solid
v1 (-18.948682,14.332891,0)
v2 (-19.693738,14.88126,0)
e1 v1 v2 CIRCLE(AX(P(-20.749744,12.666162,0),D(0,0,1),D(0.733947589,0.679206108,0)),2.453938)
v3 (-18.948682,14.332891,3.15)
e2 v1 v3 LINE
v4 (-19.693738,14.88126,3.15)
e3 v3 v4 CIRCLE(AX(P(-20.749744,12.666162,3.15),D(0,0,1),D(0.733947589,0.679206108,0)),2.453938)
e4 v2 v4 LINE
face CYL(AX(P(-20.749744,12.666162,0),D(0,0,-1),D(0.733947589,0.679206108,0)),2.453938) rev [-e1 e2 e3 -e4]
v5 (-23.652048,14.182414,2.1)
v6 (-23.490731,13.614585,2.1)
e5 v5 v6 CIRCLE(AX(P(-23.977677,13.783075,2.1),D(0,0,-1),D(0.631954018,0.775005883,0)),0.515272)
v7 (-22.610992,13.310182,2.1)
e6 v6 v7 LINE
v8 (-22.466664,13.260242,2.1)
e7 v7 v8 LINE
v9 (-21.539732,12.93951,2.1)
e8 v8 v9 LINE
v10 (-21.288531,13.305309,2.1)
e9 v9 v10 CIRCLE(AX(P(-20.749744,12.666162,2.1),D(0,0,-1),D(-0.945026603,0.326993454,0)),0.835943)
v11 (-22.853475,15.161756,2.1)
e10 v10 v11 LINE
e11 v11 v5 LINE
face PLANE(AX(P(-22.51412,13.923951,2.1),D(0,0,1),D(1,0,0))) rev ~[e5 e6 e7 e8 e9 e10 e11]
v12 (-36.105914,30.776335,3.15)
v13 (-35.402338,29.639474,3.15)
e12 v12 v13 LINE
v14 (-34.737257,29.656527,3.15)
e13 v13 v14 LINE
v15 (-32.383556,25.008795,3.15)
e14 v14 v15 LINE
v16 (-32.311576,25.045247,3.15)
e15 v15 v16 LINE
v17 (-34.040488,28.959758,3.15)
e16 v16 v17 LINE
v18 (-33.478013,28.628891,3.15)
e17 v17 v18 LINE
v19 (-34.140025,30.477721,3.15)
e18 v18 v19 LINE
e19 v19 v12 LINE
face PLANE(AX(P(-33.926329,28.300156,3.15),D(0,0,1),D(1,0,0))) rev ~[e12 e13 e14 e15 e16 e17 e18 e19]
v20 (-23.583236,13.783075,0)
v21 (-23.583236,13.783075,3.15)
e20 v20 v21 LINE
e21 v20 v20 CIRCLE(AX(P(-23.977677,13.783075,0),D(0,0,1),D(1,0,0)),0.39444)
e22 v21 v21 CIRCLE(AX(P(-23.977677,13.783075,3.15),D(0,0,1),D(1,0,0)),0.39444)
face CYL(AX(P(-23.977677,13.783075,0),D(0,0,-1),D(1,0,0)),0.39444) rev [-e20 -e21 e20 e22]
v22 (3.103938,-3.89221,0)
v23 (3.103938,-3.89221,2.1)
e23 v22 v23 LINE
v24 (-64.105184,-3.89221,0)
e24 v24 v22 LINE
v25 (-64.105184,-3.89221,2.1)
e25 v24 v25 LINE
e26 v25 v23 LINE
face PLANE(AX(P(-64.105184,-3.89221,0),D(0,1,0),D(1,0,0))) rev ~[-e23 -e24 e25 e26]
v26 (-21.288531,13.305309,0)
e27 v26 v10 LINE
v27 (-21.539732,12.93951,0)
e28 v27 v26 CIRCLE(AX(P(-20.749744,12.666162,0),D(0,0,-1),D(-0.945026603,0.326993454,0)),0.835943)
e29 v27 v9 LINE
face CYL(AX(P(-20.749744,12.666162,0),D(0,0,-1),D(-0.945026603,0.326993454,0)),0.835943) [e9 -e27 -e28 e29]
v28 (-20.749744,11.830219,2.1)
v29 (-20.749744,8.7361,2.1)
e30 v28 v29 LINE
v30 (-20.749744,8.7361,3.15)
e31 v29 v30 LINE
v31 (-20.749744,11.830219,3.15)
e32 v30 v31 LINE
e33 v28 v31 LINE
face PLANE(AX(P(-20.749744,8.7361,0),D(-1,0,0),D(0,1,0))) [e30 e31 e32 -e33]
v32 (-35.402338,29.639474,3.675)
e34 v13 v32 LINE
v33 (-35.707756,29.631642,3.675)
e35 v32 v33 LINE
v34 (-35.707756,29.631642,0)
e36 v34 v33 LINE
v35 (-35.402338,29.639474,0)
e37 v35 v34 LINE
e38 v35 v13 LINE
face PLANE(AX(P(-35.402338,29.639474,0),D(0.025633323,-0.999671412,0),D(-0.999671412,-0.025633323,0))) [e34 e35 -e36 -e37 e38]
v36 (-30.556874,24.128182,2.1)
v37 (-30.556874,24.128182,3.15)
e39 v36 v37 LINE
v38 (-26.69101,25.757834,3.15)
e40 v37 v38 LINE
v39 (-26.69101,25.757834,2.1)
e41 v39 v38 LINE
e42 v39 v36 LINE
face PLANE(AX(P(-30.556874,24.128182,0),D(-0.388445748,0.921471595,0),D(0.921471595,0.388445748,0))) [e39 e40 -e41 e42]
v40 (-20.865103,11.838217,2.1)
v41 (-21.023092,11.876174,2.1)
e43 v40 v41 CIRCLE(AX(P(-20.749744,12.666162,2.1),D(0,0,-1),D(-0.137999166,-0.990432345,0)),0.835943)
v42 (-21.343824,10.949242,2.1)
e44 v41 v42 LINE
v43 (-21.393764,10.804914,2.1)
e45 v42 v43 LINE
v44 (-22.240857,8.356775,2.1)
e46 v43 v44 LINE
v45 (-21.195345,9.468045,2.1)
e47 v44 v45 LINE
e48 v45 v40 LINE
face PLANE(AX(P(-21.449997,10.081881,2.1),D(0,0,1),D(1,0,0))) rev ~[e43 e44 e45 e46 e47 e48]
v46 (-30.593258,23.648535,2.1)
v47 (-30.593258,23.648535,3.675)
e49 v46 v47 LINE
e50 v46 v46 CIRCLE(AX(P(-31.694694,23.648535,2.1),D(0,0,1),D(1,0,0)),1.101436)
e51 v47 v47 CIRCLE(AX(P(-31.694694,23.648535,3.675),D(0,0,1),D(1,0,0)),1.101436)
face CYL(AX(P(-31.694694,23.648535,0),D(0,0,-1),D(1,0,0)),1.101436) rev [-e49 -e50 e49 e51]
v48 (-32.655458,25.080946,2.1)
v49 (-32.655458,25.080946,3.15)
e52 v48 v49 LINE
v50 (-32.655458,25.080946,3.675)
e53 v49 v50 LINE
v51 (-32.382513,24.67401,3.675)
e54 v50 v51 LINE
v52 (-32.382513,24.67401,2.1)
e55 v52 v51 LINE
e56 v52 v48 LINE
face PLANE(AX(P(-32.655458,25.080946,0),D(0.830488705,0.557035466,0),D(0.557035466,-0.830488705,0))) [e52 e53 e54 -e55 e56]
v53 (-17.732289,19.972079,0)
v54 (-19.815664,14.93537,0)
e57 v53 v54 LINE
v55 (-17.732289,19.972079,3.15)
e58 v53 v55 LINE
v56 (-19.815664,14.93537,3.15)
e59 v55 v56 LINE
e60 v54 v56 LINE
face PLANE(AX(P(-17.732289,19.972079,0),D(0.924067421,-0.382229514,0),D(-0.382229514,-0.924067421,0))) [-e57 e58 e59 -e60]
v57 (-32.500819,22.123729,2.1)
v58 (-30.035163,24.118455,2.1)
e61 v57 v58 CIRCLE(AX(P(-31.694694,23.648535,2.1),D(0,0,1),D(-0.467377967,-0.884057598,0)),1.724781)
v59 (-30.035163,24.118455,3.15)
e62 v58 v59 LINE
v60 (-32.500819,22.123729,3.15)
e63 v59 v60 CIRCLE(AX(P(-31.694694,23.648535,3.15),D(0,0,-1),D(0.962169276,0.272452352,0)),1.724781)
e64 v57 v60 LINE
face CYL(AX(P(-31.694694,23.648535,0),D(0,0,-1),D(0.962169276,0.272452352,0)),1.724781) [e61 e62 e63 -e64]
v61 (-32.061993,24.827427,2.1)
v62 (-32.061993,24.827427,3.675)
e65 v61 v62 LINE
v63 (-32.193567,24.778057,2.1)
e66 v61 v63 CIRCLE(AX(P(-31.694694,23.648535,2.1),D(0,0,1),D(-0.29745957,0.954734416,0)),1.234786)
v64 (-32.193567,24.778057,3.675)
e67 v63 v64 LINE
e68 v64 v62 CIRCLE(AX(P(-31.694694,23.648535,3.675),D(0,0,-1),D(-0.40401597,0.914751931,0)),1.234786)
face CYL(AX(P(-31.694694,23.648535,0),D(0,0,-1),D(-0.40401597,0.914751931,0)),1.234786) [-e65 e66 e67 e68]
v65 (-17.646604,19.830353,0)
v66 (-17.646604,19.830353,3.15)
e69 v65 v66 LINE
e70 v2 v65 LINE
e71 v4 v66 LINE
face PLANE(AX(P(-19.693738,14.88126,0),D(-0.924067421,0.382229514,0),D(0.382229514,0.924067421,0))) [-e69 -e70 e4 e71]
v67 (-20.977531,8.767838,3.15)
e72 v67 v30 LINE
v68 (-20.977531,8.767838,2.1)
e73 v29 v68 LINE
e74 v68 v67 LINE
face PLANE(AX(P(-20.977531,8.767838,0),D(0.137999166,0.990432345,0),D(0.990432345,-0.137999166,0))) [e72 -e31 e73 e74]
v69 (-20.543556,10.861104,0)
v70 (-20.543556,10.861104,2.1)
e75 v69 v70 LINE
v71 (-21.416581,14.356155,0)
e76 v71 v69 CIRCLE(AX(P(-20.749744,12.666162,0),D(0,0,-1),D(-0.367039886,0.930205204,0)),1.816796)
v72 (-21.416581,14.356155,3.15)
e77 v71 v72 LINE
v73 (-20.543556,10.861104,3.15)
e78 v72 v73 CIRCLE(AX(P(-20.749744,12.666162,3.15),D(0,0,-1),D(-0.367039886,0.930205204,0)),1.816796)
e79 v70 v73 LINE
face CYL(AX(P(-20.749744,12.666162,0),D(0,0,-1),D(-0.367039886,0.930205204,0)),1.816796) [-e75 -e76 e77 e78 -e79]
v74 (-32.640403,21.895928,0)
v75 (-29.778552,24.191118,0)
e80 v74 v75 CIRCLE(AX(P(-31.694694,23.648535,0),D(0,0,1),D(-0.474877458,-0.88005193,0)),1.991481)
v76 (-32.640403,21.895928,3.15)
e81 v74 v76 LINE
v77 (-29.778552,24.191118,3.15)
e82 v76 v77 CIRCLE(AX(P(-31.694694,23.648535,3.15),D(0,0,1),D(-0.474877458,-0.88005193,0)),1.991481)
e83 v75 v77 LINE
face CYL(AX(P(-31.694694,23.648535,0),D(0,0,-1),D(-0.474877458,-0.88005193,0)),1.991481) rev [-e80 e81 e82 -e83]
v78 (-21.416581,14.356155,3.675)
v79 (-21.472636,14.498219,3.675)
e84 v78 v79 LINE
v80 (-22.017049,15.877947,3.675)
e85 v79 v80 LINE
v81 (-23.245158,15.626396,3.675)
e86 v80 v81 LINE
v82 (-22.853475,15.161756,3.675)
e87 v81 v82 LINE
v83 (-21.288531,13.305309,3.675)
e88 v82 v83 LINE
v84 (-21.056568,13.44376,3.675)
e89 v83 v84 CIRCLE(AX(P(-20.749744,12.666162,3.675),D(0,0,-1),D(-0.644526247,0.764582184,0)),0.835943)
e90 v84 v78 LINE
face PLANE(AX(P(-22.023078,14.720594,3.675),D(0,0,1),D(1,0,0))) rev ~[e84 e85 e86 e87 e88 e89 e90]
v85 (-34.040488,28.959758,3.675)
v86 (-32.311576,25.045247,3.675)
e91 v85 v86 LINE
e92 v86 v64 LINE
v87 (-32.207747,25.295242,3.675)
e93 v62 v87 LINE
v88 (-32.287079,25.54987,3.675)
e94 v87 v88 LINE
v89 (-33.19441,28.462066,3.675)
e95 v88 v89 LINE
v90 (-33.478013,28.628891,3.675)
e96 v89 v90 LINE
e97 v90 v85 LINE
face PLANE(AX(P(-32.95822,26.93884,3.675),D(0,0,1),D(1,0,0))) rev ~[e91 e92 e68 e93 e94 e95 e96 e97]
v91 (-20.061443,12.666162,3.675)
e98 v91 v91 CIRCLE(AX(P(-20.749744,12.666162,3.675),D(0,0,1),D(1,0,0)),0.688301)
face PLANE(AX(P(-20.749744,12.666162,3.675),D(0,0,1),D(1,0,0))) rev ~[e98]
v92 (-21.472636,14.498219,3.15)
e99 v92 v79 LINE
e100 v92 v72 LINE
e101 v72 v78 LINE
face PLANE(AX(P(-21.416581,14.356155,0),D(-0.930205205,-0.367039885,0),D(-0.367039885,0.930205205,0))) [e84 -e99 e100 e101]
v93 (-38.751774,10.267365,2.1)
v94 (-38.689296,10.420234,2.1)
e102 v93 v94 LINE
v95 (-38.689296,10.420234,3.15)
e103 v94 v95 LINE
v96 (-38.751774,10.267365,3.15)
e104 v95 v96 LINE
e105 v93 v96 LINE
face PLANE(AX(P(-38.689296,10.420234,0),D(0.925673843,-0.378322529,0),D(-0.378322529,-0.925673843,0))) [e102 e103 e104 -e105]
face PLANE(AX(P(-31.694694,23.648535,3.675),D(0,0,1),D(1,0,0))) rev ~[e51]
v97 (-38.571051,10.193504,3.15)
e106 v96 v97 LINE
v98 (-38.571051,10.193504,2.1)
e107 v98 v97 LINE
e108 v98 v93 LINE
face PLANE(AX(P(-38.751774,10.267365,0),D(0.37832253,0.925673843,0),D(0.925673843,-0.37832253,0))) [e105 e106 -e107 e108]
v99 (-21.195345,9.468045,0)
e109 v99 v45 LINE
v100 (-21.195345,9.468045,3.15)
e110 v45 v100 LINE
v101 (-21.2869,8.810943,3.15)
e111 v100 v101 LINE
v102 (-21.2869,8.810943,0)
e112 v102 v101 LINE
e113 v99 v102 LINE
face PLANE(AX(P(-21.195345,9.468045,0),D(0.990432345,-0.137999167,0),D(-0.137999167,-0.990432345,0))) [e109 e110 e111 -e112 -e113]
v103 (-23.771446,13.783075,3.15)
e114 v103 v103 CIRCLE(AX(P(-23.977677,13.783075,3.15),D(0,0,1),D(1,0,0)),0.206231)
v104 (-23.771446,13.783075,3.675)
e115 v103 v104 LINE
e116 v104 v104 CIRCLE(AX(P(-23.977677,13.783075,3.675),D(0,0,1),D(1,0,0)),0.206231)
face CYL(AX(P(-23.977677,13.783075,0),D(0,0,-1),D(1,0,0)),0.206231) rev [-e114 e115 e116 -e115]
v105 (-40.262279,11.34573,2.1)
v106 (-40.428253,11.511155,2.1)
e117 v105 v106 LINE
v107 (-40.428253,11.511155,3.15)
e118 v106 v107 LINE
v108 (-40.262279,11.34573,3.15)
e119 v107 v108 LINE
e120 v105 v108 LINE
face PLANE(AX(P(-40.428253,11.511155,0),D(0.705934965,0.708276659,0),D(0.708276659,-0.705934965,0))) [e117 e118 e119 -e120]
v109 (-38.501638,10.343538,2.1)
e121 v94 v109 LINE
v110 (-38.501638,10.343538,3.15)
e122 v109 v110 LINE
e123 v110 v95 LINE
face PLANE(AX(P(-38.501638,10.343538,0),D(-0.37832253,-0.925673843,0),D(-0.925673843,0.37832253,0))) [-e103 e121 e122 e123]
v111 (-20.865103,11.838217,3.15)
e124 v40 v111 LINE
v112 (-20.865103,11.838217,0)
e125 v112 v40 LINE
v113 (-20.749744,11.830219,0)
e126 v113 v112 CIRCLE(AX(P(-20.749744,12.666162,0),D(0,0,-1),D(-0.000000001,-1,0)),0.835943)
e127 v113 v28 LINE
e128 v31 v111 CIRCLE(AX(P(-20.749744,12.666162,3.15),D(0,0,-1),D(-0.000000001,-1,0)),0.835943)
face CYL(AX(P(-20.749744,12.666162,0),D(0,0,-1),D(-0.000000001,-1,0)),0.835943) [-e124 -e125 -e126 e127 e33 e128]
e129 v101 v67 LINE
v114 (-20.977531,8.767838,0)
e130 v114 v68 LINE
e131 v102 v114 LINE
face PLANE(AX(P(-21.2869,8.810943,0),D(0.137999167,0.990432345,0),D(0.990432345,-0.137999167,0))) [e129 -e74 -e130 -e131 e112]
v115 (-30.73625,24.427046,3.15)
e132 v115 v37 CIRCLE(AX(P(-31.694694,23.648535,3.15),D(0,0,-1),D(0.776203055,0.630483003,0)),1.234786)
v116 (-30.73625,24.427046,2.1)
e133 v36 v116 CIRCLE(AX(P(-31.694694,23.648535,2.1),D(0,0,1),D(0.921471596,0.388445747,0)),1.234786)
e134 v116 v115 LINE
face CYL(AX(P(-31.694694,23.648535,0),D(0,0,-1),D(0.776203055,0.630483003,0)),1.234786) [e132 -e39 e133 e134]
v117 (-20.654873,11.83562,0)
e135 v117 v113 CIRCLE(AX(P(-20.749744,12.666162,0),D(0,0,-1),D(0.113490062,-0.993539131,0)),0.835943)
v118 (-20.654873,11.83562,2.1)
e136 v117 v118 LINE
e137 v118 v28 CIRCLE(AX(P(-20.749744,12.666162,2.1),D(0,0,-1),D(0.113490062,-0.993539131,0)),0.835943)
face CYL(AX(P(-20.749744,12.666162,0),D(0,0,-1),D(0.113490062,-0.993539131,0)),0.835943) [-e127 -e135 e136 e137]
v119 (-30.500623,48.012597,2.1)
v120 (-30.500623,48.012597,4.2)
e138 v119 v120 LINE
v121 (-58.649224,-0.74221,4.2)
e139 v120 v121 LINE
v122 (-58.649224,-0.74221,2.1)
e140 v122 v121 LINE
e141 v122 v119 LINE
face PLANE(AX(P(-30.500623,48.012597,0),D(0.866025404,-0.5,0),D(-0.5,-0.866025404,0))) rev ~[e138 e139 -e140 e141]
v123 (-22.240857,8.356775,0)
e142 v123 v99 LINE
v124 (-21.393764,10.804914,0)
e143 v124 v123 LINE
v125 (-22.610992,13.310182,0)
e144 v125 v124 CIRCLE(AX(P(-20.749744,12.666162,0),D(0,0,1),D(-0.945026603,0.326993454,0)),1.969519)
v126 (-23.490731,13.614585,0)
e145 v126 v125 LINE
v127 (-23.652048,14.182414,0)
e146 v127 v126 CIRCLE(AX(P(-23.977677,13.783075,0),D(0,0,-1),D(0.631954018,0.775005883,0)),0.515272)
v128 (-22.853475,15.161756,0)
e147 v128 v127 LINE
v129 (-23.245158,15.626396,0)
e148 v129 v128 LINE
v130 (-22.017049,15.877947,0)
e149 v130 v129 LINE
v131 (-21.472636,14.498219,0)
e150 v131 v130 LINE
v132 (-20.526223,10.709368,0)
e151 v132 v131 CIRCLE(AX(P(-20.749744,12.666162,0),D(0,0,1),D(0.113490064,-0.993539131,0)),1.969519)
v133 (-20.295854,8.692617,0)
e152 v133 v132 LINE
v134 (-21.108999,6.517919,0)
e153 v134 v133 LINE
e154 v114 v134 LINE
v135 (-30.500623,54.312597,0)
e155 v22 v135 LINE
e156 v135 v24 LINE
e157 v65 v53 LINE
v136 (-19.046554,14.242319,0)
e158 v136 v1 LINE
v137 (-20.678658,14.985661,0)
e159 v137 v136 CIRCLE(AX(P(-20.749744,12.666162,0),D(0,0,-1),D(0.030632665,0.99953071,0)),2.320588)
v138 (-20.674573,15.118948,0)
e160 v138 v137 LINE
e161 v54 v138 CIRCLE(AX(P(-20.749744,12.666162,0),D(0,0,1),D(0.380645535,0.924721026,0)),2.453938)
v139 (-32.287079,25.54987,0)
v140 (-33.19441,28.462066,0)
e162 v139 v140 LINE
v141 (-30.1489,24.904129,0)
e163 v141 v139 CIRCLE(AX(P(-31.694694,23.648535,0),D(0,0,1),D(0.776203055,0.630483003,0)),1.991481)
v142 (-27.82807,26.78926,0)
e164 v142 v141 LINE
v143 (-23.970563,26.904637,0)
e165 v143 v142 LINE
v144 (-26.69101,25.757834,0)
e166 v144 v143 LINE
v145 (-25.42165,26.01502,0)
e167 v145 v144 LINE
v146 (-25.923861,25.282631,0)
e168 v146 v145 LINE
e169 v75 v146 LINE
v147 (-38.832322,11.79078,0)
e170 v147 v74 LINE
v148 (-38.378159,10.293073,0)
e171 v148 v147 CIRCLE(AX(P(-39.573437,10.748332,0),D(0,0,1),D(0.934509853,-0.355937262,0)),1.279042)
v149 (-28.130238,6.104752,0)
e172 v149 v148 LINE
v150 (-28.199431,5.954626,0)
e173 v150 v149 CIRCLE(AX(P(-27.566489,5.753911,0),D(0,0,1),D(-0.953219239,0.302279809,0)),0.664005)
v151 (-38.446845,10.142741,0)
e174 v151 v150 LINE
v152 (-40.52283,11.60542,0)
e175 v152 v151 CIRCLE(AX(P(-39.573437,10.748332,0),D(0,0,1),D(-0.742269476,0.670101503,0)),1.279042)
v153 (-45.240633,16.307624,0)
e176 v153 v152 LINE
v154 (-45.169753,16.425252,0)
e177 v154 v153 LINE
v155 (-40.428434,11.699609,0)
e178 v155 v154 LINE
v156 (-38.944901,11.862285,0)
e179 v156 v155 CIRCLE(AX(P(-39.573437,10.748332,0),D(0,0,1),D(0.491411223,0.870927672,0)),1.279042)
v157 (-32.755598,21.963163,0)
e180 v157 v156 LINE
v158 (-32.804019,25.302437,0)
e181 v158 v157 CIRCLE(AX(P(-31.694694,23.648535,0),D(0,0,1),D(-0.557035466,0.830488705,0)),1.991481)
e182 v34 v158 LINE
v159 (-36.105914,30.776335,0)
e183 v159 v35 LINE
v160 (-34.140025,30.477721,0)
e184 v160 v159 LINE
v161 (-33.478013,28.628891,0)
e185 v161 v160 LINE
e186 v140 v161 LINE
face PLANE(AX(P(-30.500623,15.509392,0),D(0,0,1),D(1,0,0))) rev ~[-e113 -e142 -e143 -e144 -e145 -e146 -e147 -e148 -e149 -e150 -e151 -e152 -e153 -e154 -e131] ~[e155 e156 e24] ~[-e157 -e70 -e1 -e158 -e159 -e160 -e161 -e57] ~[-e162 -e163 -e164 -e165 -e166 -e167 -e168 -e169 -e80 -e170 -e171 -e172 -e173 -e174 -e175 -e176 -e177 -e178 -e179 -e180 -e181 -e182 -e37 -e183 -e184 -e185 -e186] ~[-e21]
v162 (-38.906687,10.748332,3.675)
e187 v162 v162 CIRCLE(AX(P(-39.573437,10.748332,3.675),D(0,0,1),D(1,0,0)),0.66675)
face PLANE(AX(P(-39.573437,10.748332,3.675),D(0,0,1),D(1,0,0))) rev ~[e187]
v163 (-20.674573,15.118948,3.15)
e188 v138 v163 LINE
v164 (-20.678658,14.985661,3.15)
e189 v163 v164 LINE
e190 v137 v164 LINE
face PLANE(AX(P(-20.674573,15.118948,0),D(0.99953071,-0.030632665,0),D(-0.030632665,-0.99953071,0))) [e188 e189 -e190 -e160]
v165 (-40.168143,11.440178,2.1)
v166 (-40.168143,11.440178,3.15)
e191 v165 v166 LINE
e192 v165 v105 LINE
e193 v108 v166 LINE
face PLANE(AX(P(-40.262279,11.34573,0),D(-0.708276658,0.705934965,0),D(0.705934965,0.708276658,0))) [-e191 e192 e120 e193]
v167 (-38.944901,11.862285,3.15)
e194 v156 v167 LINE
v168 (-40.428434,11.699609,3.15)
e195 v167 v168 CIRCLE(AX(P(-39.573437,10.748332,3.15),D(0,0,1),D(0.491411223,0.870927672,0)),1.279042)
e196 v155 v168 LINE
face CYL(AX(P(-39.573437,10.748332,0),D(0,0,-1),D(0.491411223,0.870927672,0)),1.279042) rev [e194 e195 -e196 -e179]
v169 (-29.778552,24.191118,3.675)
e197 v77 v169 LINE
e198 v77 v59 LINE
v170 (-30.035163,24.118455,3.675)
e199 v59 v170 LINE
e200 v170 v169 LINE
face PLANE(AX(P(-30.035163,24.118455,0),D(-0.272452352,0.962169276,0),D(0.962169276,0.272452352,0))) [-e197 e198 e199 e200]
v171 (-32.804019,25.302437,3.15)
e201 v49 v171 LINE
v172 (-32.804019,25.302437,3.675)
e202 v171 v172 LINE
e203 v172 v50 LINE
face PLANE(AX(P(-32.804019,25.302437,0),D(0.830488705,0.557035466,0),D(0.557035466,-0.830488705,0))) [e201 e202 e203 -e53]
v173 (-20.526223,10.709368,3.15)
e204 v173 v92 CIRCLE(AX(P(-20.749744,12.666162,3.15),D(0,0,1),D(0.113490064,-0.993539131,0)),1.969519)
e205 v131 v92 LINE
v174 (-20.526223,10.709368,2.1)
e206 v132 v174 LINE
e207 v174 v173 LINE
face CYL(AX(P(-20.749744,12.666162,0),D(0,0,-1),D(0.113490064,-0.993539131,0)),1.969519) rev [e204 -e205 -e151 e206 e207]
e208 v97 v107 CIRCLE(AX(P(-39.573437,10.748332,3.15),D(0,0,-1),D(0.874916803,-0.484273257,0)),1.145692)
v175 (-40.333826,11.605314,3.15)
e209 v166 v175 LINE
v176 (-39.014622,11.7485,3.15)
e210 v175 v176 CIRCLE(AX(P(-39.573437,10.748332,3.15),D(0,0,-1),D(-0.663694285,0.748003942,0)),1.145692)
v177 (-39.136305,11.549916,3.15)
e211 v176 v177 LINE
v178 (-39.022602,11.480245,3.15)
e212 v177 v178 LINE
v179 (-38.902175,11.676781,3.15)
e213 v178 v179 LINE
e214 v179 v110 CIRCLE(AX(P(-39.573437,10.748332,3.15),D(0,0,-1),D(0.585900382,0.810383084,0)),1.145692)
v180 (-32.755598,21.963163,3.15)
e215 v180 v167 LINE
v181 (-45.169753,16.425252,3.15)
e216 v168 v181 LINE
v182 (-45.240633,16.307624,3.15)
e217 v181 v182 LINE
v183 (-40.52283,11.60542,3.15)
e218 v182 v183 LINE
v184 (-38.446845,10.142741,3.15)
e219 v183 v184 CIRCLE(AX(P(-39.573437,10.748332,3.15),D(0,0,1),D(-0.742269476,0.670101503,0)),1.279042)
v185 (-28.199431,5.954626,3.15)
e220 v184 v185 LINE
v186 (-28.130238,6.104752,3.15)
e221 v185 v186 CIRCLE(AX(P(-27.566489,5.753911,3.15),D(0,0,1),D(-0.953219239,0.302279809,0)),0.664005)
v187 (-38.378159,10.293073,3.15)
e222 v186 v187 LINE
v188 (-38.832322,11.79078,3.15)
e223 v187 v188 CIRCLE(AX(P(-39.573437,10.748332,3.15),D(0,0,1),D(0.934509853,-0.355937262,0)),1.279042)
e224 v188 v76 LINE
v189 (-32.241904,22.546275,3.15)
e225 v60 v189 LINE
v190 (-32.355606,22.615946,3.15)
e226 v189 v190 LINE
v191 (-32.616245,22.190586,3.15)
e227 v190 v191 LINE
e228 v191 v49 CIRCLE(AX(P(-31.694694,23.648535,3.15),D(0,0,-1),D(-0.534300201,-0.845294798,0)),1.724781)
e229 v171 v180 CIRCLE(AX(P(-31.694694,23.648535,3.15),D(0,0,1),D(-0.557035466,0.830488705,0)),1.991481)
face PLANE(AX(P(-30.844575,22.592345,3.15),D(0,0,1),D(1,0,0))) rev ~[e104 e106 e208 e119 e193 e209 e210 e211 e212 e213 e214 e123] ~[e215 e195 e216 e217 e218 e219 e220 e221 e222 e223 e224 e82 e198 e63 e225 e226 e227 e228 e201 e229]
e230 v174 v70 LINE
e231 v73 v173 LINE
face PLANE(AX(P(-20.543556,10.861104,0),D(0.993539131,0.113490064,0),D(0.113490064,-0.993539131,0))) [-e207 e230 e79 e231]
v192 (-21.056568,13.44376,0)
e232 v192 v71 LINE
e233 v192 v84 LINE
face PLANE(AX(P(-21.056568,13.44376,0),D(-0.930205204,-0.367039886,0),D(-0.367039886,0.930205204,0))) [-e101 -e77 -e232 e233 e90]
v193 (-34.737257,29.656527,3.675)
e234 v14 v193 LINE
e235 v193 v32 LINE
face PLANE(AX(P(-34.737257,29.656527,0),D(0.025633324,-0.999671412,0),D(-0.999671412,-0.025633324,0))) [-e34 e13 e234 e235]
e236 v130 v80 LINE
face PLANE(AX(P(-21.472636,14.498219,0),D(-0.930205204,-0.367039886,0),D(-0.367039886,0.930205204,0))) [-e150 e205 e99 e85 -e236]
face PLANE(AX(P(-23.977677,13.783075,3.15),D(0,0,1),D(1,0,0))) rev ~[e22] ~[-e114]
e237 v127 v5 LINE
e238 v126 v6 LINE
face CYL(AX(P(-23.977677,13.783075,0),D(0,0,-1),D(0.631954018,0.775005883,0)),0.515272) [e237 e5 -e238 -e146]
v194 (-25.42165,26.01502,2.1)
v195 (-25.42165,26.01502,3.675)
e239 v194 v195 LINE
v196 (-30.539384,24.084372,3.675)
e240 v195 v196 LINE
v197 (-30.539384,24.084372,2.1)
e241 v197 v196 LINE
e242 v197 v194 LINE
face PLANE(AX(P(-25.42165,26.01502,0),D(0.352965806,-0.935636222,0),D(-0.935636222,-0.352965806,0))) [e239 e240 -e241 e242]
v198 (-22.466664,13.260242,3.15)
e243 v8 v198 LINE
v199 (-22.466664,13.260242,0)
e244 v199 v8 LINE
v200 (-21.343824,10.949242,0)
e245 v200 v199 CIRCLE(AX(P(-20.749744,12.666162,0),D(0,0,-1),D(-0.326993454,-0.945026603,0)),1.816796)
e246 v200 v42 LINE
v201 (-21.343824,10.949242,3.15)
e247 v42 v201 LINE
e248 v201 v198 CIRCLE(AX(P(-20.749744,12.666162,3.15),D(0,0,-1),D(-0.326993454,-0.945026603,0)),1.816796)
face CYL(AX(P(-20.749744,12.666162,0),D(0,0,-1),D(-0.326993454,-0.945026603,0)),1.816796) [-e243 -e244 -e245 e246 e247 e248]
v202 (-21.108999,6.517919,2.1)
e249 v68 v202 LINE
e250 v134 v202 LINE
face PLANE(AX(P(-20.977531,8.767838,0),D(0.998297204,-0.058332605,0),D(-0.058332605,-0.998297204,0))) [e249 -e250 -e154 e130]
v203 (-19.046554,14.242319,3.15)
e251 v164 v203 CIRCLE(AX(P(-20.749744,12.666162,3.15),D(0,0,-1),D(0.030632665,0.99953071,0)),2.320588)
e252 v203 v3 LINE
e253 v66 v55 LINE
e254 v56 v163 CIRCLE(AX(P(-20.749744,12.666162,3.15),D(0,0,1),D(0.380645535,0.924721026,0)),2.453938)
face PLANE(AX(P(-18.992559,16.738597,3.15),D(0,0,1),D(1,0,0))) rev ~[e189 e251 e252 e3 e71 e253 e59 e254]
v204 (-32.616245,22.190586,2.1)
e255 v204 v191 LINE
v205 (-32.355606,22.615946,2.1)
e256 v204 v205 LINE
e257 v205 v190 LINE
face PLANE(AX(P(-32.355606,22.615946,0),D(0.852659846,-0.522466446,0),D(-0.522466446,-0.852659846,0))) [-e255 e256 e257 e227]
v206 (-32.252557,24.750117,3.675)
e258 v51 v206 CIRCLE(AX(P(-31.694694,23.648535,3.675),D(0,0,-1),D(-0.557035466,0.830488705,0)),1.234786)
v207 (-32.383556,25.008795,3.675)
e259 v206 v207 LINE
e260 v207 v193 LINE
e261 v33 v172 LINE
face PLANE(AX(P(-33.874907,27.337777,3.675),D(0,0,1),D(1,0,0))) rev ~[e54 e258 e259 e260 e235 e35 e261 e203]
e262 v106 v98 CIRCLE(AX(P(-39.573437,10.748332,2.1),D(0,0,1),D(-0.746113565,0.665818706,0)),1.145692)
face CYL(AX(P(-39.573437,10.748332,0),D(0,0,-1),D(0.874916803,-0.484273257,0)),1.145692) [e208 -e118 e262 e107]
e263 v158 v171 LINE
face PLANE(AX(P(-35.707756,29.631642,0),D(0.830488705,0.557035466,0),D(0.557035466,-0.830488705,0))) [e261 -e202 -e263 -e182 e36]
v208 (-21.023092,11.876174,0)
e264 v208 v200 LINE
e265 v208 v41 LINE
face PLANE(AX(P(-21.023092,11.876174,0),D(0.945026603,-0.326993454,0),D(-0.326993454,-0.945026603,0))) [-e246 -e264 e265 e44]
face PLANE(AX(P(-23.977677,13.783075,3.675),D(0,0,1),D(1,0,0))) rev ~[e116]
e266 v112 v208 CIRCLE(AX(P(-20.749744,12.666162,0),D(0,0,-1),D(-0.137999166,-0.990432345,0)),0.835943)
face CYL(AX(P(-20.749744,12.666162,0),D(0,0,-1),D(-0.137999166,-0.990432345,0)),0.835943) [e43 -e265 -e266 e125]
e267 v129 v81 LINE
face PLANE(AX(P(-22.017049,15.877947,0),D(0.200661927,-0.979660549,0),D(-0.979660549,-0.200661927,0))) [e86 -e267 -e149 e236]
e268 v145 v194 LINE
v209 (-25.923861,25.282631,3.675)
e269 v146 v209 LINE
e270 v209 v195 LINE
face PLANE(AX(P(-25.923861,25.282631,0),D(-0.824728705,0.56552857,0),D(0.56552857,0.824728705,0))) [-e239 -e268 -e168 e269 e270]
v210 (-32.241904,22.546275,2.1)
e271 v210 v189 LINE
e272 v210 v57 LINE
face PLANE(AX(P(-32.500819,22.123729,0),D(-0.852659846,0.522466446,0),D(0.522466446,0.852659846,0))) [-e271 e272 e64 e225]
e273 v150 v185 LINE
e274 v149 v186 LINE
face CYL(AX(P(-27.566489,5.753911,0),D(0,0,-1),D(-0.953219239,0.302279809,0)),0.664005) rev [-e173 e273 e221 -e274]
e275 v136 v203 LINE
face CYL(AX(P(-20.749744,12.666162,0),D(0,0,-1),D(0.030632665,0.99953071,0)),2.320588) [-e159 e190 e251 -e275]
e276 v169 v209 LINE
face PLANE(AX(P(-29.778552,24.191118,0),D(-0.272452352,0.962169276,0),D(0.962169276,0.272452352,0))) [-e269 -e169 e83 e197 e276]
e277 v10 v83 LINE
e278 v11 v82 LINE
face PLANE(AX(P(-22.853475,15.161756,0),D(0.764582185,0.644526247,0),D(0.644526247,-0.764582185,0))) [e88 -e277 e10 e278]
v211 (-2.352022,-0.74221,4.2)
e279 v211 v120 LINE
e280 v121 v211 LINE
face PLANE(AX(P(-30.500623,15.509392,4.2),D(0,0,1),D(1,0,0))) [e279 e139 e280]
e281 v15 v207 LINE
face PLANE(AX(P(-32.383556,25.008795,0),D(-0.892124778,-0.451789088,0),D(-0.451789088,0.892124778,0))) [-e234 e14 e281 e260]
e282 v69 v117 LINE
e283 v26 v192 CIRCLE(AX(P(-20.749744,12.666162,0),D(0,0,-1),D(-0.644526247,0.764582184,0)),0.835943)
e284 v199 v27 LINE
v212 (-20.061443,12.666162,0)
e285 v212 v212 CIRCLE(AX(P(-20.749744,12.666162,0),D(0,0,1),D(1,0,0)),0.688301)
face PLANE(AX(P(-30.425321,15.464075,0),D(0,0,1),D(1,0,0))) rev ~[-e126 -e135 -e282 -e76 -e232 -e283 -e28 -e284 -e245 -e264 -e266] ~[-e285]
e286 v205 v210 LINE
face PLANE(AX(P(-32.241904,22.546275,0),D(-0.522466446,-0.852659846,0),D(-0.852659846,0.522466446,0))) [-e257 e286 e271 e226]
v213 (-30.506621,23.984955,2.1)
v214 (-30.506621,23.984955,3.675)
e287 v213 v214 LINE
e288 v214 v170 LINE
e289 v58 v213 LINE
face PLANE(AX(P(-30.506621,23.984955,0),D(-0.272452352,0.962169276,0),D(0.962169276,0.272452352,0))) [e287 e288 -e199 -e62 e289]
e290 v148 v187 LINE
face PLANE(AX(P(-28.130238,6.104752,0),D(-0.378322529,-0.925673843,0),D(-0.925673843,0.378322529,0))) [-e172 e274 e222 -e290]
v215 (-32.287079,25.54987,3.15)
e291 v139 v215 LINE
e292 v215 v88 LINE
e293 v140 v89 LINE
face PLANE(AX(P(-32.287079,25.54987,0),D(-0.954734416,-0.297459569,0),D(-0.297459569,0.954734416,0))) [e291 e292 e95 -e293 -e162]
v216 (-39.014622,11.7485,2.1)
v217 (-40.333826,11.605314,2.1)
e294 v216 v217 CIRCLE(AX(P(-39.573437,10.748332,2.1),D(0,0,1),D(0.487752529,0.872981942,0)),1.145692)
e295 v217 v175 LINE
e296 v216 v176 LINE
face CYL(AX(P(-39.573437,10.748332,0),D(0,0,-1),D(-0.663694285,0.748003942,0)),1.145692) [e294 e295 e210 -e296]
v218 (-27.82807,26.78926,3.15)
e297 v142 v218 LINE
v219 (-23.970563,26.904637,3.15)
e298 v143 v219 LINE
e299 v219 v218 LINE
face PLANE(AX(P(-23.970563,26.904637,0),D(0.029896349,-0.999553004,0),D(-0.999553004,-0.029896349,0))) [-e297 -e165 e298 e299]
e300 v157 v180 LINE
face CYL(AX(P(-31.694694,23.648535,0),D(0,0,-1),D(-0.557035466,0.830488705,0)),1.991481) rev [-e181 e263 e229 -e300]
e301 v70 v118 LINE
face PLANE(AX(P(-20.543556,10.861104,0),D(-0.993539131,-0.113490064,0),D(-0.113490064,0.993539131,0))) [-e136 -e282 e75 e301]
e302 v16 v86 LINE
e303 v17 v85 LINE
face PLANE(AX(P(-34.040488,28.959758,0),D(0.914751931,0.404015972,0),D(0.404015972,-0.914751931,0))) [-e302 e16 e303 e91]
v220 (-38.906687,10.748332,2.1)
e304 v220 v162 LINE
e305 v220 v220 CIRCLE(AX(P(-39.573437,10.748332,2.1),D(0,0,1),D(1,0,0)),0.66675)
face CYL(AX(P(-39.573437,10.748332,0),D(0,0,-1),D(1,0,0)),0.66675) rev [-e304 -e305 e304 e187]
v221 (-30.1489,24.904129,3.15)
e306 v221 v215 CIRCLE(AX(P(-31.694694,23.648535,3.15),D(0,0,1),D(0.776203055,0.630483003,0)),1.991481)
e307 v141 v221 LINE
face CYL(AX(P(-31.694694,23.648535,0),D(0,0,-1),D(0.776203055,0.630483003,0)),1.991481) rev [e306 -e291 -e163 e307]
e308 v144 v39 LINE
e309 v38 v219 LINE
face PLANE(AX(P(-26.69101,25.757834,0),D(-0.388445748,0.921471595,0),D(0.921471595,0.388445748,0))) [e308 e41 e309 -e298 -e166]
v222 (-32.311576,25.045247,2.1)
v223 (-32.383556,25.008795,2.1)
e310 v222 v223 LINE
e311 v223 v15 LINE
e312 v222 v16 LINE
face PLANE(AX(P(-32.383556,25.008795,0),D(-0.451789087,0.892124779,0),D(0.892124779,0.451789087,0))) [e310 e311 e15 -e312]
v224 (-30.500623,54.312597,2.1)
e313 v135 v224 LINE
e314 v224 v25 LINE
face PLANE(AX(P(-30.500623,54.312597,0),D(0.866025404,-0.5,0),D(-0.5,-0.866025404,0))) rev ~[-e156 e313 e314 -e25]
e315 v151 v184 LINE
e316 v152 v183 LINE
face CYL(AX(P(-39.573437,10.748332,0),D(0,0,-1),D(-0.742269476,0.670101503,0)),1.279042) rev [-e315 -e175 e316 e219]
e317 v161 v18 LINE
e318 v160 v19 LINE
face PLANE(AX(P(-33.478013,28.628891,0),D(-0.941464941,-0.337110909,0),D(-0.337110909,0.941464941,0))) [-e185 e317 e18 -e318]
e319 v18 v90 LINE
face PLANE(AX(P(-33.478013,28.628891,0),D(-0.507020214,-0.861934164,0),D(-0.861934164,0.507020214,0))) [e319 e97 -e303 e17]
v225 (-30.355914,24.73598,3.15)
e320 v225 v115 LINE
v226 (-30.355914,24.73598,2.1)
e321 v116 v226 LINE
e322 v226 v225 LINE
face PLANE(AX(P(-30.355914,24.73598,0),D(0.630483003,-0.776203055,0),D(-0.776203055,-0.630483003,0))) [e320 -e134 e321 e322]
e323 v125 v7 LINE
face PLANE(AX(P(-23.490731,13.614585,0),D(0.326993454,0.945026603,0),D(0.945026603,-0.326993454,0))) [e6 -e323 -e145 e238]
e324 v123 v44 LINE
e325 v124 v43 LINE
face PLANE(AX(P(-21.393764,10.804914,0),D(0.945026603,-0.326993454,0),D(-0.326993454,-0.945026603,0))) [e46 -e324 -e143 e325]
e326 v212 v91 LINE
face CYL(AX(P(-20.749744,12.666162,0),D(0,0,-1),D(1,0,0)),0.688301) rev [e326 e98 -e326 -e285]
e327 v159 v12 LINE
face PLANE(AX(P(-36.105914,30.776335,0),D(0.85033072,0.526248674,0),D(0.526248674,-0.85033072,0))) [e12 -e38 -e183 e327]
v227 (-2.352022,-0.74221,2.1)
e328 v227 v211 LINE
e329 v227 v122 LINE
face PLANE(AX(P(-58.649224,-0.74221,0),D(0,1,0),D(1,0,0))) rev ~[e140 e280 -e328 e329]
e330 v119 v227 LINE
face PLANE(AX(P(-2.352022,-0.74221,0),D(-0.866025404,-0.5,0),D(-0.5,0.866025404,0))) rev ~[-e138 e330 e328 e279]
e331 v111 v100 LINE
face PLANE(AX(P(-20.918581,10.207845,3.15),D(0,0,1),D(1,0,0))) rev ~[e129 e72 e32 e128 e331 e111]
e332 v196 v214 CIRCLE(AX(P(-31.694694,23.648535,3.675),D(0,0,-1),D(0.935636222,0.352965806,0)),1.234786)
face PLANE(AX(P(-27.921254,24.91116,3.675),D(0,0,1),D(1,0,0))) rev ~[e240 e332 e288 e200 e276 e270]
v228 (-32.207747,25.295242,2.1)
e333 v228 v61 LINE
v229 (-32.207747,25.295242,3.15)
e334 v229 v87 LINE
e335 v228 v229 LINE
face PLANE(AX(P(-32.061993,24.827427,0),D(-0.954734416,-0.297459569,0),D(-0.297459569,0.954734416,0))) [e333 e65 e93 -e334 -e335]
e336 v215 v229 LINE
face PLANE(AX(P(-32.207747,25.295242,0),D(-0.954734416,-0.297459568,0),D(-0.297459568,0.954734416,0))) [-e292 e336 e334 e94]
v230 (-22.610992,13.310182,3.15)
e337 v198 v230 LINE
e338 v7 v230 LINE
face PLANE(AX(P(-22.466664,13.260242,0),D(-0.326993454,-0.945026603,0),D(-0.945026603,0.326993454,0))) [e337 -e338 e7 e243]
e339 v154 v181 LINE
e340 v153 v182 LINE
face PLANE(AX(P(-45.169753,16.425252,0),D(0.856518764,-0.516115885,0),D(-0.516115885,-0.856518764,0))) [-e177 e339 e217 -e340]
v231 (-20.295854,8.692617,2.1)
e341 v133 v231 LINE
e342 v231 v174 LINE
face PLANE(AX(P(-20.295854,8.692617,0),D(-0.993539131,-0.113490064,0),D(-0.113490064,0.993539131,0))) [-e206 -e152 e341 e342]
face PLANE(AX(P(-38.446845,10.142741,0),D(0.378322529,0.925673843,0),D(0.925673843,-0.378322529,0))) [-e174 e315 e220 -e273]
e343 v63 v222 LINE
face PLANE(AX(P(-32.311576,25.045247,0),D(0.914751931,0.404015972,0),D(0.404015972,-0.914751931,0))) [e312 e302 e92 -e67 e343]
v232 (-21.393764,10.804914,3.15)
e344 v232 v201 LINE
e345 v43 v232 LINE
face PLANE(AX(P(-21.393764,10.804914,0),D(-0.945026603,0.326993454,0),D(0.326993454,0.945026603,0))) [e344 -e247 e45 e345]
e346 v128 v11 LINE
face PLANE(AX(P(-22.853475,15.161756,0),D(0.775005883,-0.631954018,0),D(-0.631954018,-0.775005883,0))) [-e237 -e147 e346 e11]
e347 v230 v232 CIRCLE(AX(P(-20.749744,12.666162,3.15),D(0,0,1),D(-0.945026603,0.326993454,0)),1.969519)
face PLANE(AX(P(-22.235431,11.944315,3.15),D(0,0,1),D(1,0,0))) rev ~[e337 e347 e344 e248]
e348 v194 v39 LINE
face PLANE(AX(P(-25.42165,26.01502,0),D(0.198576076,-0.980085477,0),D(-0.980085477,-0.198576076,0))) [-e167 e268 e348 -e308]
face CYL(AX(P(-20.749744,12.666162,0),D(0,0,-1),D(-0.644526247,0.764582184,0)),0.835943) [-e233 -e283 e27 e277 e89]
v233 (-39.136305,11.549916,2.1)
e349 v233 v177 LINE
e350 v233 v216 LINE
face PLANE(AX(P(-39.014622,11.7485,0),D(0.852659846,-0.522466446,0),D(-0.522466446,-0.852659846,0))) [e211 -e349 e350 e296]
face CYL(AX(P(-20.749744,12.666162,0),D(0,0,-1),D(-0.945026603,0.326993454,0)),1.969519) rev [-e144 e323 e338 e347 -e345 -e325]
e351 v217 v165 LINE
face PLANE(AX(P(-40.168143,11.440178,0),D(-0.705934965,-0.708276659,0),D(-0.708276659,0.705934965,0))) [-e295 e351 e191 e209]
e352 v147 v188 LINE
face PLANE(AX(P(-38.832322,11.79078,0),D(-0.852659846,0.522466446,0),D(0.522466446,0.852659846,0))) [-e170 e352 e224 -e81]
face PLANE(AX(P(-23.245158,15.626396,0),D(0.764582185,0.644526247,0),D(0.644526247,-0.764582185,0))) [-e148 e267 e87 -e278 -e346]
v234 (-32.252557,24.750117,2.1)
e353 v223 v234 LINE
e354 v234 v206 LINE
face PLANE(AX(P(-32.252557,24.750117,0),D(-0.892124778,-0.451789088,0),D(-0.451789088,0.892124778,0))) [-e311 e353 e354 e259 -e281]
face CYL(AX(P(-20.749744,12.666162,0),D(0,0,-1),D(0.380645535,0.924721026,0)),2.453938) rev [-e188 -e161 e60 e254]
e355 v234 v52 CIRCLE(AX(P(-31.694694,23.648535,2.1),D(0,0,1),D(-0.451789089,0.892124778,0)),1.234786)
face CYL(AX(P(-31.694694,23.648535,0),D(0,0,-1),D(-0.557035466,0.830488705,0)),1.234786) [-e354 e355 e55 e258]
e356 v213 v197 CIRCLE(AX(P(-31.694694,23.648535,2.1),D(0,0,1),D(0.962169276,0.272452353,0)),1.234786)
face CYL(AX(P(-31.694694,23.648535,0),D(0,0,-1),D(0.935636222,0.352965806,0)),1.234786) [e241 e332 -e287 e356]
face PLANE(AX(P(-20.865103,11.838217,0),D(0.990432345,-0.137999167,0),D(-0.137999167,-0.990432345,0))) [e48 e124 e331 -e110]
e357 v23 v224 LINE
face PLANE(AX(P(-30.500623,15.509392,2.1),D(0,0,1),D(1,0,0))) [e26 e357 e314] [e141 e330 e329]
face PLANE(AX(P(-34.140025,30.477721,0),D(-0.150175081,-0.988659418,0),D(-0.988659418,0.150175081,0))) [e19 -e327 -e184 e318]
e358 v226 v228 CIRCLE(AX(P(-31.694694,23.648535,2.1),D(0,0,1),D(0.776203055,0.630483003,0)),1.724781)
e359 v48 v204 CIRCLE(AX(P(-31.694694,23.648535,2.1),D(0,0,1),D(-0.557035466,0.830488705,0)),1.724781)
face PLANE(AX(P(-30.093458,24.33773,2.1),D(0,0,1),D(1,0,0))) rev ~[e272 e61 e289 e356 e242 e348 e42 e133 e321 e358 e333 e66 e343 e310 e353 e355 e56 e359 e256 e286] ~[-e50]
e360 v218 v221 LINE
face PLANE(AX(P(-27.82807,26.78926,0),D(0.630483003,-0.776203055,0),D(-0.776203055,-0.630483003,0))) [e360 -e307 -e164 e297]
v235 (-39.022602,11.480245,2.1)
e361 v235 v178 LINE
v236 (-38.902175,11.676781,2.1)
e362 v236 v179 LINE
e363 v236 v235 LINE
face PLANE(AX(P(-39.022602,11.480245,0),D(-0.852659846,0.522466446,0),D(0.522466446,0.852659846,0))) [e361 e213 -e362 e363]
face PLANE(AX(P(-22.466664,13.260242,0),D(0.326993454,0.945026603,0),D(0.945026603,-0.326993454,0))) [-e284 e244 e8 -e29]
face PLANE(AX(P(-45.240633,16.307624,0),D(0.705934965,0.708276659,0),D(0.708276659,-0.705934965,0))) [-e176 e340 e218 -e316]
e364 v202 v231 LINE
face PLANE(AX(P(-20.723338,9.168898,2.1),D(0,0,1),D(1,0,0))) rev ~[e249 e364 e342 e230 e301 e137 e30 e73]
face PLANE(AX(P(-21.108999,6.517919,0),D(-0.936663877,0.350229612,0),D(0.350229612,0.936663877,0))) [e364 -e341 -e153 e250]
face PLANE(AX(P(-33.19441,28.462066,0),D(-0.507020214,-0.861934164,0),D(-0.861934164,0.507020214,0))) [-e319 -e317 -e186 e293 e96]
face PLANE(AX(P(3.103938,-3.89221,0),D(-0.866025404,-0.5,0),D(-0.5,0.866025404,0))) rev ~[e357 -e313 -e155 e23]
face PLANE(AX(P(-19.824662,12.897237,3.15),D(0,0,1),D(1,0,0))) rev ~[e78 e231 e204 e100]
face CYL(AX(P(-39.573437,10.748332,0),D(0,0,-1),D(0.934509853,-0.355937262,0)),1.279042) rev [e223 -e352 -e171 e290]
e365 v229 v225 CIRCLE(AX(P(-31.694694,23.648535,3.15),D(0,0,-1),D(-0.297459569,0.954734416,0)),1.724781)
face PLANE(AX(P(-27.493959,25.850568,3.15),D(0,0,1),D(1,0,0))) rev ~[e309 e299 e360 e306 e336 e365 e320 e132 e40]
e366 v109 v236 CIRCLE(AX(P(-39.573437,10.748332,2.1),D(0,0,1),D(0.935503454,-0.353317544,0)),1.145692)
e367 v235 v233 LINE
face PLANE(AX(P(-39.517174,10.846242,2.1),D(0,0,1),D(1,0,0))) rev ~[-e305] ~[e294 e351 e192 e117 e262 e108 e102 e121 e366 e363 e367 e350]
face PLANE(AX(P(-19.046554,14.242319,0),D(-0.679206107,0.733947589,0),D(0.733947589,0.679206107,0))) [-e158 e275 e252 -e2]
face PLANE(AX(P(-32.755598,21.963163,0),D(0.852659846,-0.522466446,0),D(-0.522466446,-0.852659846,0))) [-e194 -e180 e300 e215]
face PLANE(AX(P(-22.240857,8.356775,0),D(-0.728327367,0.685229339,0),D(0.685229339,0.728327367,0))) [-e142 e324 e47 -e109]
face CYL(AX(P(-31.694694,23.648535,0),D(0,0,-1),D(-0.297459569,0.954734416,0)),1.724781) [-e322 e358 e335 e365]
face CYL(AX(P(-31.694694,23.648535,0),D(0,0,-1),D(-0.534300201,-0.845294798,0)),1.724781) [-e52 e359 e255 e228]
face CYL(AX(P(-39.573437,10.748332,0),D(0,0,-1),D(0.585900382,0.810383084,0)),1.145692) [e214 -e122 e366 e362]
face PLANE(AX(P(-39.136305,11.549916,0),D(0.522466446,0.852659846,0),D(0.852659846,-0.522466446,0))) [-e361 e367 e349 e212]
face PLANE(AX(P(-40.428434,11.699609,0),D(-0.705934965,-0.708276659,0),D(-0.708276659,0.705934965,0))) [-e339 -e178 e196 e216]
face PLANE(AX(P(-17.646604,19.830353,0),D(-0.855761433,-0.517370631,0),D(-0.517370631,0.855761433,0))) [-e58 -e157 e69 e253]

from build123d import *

# Parameters (mm, degrees)
F1_DEPTH = 4
F2_DEPTH = 4
F3_R     = 0.3756576168
F3_R_2   = 0.1964100376
F4_DEPTH = 3
F3_R_3   = 0.635
F3_R_4   = 1.048986259
F5_DEPTH = 2
F3_R_5   = 0.6555251964
F6_DEPTH = 3.5
F7_DEPTH = 2
F8_SCALE = 1.05


with BuildPart() as f1:
    # F0 (on Top) → F1 (new body)
    with BuildSketch(Plane.XY):
        Polygon((-58.909031195, -0.8922100489), (-5.2926484686, -0.8922100489), (-32.1008398318, 45.5409394512), align=None)
        Polygon((-53.8927929356, 1.9193515182), (-32.0291238777, 39.7883371663), (-10.1654548198, 1.9193515182), align=None, mode=Mode.SUBTRACT)
    extrude(amount=F1_DEPTH)

    # F0 (on Top) → F2 (join)
    with BuildSketch(Plane.XY):
        Polygon((-10.1654548198, 1.9193515182), (-32.0291238777, 39.7883371663), (-53.8927929356, 1.9193515182), align=None)
    extrude(amount=F2_DEPTH)

    # F3 (on Top) → F4 (cut)
    with BuildSketch(Plane.XY):
        with BuildLine():
            Line((-32.1544126805, 22.79387742), (-28.472637414, 24.3459273728))
            Line((-28.472637414, 24.3459273728), (-25.8817355115, 25.4381203734))
            Line((-25.8817355115, 25.4381203734), (-29.5555517077, 25.3282375634))
            Line((-29.5555517077, 25.3282375634), (-31.7658662192, 23.532875228))
            Line((-31.7658662192, 23.532875228), (-31.9630217953, 23.3727325453))
            Line((-31.9630217953, 23.3727325453), (-32.3252464874, 23.0785099061))
            ThreePointArc((-32.3252464874, 23.0785099061), (-32.2297356146, 22.9422519708), (-32.1544126805, 22.79387742))
        make_face()
        with BuildLine():
            Line((-34.0057883513, 20.8848746316), (-34.1387262546, 20.6679213456))
            ThreePointArc((-34.1387262546, 20.6679213456), (-32.0514246745, 20.8574778507), (-31.4131536576, 22.853816916))
            Line((-31.4131536576, 22.853816916), (-31.6575446537, 22.7846140185))
            ThreePointArc((-31.6575446537, 22.7846140185), (-32.2048998604, 21.0600060492), (-34.0057883513, 20.8848746316))
        make_face()
        with BuildLine():
            ThreePointArc((-34.2945511212, 23.9122157523), (-35.1344997917, 22.3095710749), (-34.2484357054, 20.7319544656))
            Line((-34.2484357054, 20.7319544656), (-34.1157180625, 20.9485482888))
            ThreePointArc((-34.1157180625, 20.9485482888), (-34.8805480058, 22.314786884), (-34.1530641128, 23.7012716212))
            Line((-34.1530641128, 23.7012716212), (-34.2945511212, 23.9122157523))
        make_face()
        with BuildLine():
            ThreePointArc((-33.7266721424, 23.9053636573), (-32.7631473798, 23.9095721193), (-31.9630217953, 23.3727325453))
            Line((-31.9630217953, 23.3727325453), (-31.7658662192, 23.532875228))
            ThreePointArc((-31.7658662192, 23.532875228), (-32.6897138861, 24.1527254084), (-33.8022268728, 24.147866199))
            Line((-33.8022268728, 24.147866199), (-33.7266721424, 23.9053636573))
        make_face()
        Polygon((-37.439212203, 29.1254520416), (-36.7691402524, 28.0427267223), (-36.1357294023, 28.0589684844), (-33.8941096292, 23.6325567007), (-33.8255574097, 23.6672728586), (-34.6282780244, 25.484751086), (-35.4721397161, 27.3953787982), (-34.9364497739, 27.0802669947), (-35.5669371784, 28.8410577923), align=None)
        Polygon((-40.1023184333, 10.9354004686), (-40.0357920725, 11.0439708027), (-34.1387262546, 20.6679213456), (-34.0057883513, 20.8848746316), (-33.7592028081, 21.2872996926), (-33.8674906086, 21.3536529312), (-34.1157180625, 20.9485482888), (-34.2484357054, 20.7319544656), (-40.1430096601, 11.1120706175), (-40.2094110163, 11.0037042896), (-40.3252987546, 10.814576697), (-40.2170109542, 10.7482234584), align=None)
        with BuildLine():
            Line((-21.8085683814, 13.9872856063), (-19.8589176688, 18.7007068296))
            Line((-19.8589176688, 18.7007068296), (-19.9405216036, 18.8356845341))
            Line((-19.9405216036, 18.8356845341), (-21.924688319, 14.0388183843))
            ThreePointArc((-21.924688319, 14.0388183843), (-22.3258071802, 14.163131996), (-22.7426976389, 14.2136548644))
            Line((-22.7426976389, 14.2136548644), (-22.7465879873, 14.0867144643))
            ThreePointArc((-22.7465879873, 14.0867144643), (-21.8982425542, 13.8889683334), (-21.1922032459, 13.3787703315))
            Line((-21.1922032459, 13.3787703315), (-21.098991902, 13.4650295072))
            ThreePointArc((-21.098991902, 13.4650295072), (-21.4289470838, 13.75989762), (-21.8085683814, 13.9872856063))
        make_face()
        with BuildLine():
            Line((-23.5027573383, 13.6224841241), (-23.449371184, 13.4871852627))
            ThreePointArc((-23.449371184, 13.4871852627), (-21.1355854297, 12.2969895142), (-22.6179189393, 10.1585653741))
            Line((-22.6179189393, 10.1585653741), (-22.6014117467, 10.014054558))
            ThreePointArc((-22.6014117467, 10.014054558), (-20.9944706596, 12.3322384151), (-23.5027573383, 13.6224841241))
        make_face()
        with BuildLine():
            Line((-24.4494511051, 12.4434589257), (-24.5869057472, 12.4910203045))
            ThreePointArc((-24.5869057472, 12.4910203045), (-24.5014237549, 11.0579440906), (-23.4276409497, 10.1050510783))
            Line((-23.4276409497, 10.1050510783), (-23.3800795709, 10.2425057204))
            ThreePointArc((-23.3800795709, 10.2425057204), (-24.3705976719, 11.1215082267), (-24.4494511051, 12.4434589257))
        make_face()
        with BuildLine():
            Line((-22.9241548234, 11.089149363), (-23.23867048, 8.8318424018))
            Line((-23.23867048, 8.8318424018), (-23.3258662152, 8.2060308217))
            Line((-23.3258662152, 8.2060308217), (-23.0312290048, 8.1649783564))
            Line((-23.0312290048, 8.1649783564), (-22.8142887354, 8.1347515807))
            Line((-22.8142887354, 8.1347515807), (-22.8142887354, 11.0815322095))
            ThreePointArc((-22.8142887354, 11.0815322095), (-22.8693536478, 11.0834387808), (-22.9241548234, 11.089149363))
        make_face()
        with Locations((-25.8885102101, 12.9413950747)):
            Circle(F3_R)
        with Locations((-25.8885102101, 12.9413950747)):
            Circle(F3_R_2, mode=Mode.SUBTRACT)
        with BuildLine():
            Line((-39.7208541944, 9.6656456843), (-39.6032555968, 9.6175831845))
            ThreePointArc((-39.6032555968, 9.6175831845), (-39.5758973979, 10.4046540513), (-40.0357920725, 11.0439708027))
            Line((-40.0357920725, 11.0439708027), (-40.1023184333, 10.9354004686))
            ThreePointArc((-40.1023184333, 10.9354004686), (-39.6966188641, 10.3651043607), (-39.7208541944, 9.6656456843))
        make_face()
        with BuildLine():
            Line((-39.6686708723, 9.4744095773), (-29.9092287895, 5.4857295025))
            ThreePointArc((-29.9092287895, 5.4857295025), (-28.732106837, 5.029867848), (-29.8433309183, 5.6287058731))
            Line((-29.8433309183, 5.6287058731), (-39.6032555968, 9.6175831845))
            Line((-39.6032555968, 9.6175831845), (-39.7208541944, 9.6656456843))
            Line((-39.7208541944, 9.6656456843), (-39.8995765777, 9.7386894509))
            Line((-39.8995765777, 9.7386894509), (-39.9590791965, 9.5930993432))
            Line((-39.9590791965, 9.5930993432), (-39.786962426, 9.5227552879))
            Line((-39.786962426, 9.5227552879), (-39.6686708723, 9.4744095773))
        make_face()
        Polygon((-46.1389445683, 15.3457269633), (-41.6457996173, 10.8674371808), (-41.5557258141, 10.7776611783), (-41.3976554127, 10.6201133869), (-41.3080016721, 10.7100645225), (-41.4657952315, 10.8673363872), (-41.555897981, 10.9571412404), (-46.0714399815, 15.4577540234), align=None)
        with BuildLine():
            ThreePointArc((-40.1430096601, 11.1120706175), (-40.8743929691, 11.2620400817), (-41.555897981, 10.9571412404))
            Line((-41.555897981, 10.9571412404), (-41.4657952315, 10.8673363872))
            ThreePointArc((-41.4657952315, 10.8673363872), (-40.8593552693, 11.1359271179), (-40.2094110163, 11.0037042896))
            Line((-40.2094110163, 11.0037042896), (-40.1430096601, 11.1120706175))
        make_face()
        with BuildLine():
            ThreePointArc((-41.6457996173, 10.8674371808), (-41.4432213106, 9.0553707225), (-39.6686708723, 9.4744095773))
            Line((-39.6686708723, 9.4744095773), (-39.786962426, 9.5227552879))
            ThreePointArc((-39.786962426, 9.5227552879), (-41.3729906341, 9.1612522684), (-41.5557258141, 10.7776611783))
            Line((-41.5557258141, 10.7776611783), (-41.6457996173, 10.8674371808))
        make_face()
    extrude(amount=F4_DEPTH, mode=Mode.SUBTRACT)

    # F3 (on Top) → F5 (cut)
    with BuildSketch(Plane.XY):
        with BuildLine():
            Line((-23.3800795709, 10.2425057204), (-23.4276409497, 10.1050510783))
            Line((-23.4276409497, 10.1050510783), (-24.2343964016, 7.7734895301))
            Line((-24.2343964016, 7.7734895301), (-23.23867048, 8.8318424018))
            Line((-23.23867048, 8.8318424018), (-22.9241548234, 11.089149363))
            ThreePointArc((-22.9241548234, 11.089149363), (-23.0002677721, 11.1035594813), (-23.074619957, 11.1252985032))
            Line((-23.074619957, 11.1252985032), (-23.3800795709, 10.2425057204))
        make_face()
        with BuildLine():
            ThreePointArc((-22.7239352236, 11.0866759389), (-22.769038832, 11.0828191821), (-22.8142887354, 11.0815322095))
            Line((-22.8142887354, 11.0815322095), (-22.8142887354, 8.1347515807))
            Line((-22.8142887354, 8.1347515807), (-23.0312290048, 8.1649783564))
            Line((-23.0312290048, 8.1649783564), (-23.1564361602, 6.0221981257))
            Line((-23.1564361602, 6.0221981257), (-22.3820121472, 8.0933393826))
            Line((-22.3820121472, 8.0933393826), (-22.6014117467, 10.014054558))
            Line((-22.6014117467, 10.014054558), (-22.6179189393, 10.1585653741))
            Line((-22.6179189393, 10.1585653741), (-22.7239352236, 11.0866759389))
        make_face()
        with BuildLine():
            Line((-25.4247522826, 12.7809278391), (-24.5869057472, 12.4910203045))
            Line((-24.5869057472, 12.4910203045), (-24.4494511051, 12.4434589257))
            Line((-24.4494511051, 12.4434589257), (-23.5666583224, 12.1379993118))
            ThreePointArc((-23.5666583224, 12.1379993118), (-23.4705773692, 12.3283537562), (-23.3274192063, 12.4863794012))
            Line((-23.3274192063, 12.4863794012), (-24.8178424468, 14.254423858))
            Line((-24.8178424468, 14.254423858), (-25.5783880562, 13.3217178307))
            ThreePointArc((-25.5783880562, 13.3217178307), (-25.4164550768, 13.0755036136), (-25.4247522826, 12.7809278391))
        make_face()
        with BuildLine():
            ThreePointArc((-41.5557258141, 10.7776611783), (-41.3729906341, 9.1612522684), (-39.786962426, 9.5227552879))
            Line((-39.786962426, 9.5227552879), (-39.9590791965, 9.5930993432))
            Line((-39.9590791965, 9.5930993432), (-39.8995765777, 9.7386894509))
            Line((-39.8995765777, 9.7386894509), (-39.7208541944, 9.6656456843))
            ThreePointArc((-39.7208541944, 9.6656456843), (-39.6966188641, 10.3651043607), (-40.1023184333, 10.9354004686))
            Line((-40.1023184333, 10.9354004686), (-40.2170109542, 10.7482234584))
            Line((-40.2170109542, 10.7482234584), (-40.3252987546, 10.814576697))
            Line((-40.3252987546, 10.814576697), (-40.2094110163, 11.0037042896))
            ThreePointArc((-40.2094110163, 11.0037042896), (-40.8593552693, 11.1359271179), (-41.4657952315, 10.8673363872))
            Line((-41.4657952315, 10.8673363872), (-41.3080016721, 10.7100645225))
            Line((-41.3080016721, 10.7100645225), (-41.3976554127, 10.6201133869))
            Line((-41.3976554127, 10.6201133869), (-41.5557258141, 10.7776611783))
        make_face()
        with Locations((-40.7416149974, 10.0511629134)):
            Circle(F3_R_3, mode=Mode.SUBTRACT)
        with BuildLine():
            Line((-33.7592028081, 21.2872996926), (-34.0057883513, 20.8848746316))
            ThreePointArc((-34.0057883513, 20.8848746316), (-32.2048998604, 21.0600060492), (-31.6575446537, 22.7846140185))
            Line((-31.6575446537, 22.7846140185), (-32.1065527673, 22.657470781))
            ThreePointArc((-32.1065527673, 22.657470781), (-32.1211502555, 22.7051429275), (-32.1377552743, 22.7521534961))
            Line((-32.1377552743, 22.7521534961), (-27.2637233138, 24.5908666402))
            Line((-27.2637233138, 24.5908666402), (-28.472637414, 24.3459273728))
            Line((-28.472637414, 24.3459273728), (-32.1544126805, 22.79387742))
            ThreePointArc((-32.1544126805, 22.79387742), (-32.2297356146, 22.9422519708), (-32.3252464874, 23.0785099061))
            Line((-32.3252464874, 23.0785099061), (-31.9630217953, 23.3727325453))
            ThreePointArc((-31.9630217953, 23.3727325453), (-32.7631473798, 23.9095721193), (-33.7266721424, 23.9053636573))
            Line((-33.7266721424, 23.9053636573), (-33.5878589801, 23.4598251125))
            ThreePointArc((-33.5878589801, 23.4598251125), (-33.6511828612, 23.4380998169), (-33.7131678459, 23.4128062592))
            Line((-33.7131678459, 23.4128062592), (-33.8255574097, 23.6672728586))
            Line((-33.8255574097, 23.6672728586), (-33.8941096292, 23.6325567007))
            Line((-33.8941096292, 23.6325567007), (-33.7693483742, 23.3861970389))
            ThreePointArc((-33.7693483742, 23.3861970389), (-33.832338615, 23.3518441558), (-33.8931166689, 23.3137138638))
            Line((-33.8931166689, 23.3137138638), (-34.1530641128, 23.7012716212))
            ThreePointArc((-34.1530641128, 23.7012716212), (-34.8805480058, 22.314786884), (-34.1157180625, 20.9485482888))
            Line((-34.1157180625, 20.9485482888), (-33.8674906086, 21.3536529312))
            Line((-33.8674906086, 21.3536529312), (-33.7592028081, 21.2872996926))
        make_face()
        with Locations((-33.2380506147, 22.3370705583)):
            Circle(F3_R_4, mode=Mode.SUBTRACT)
    extrude(amount=F5_DEPTH, mode=Mode.SUBTRACT)

    # F3 (on Top) → F6 (cut)
    with BuildSketch(Plane.XY):
        with Locations((-25.8885102101, 12.9413950747)):
            Circle(F3_R_2)
        with Locations((-22.8142887354, 11.8776680902)):
            Circle(F3_R_5)
        with BuildLine():
            Line((-24.8178424468, 14.254423858), (-23.3274192063, 12.4863794012))
            ThreePointArc((-23.3274192063, 12.4863794012), (-23.2223223597, 12.5612914528), (-23.106502358, 12.6182378298))
            Line((-23.106502358, 12.6182378298), (-23.449371184, 13.4871852627))
            Line((-23.449371184, 13.4871852627), (-23.5027573383, 13.6224841241))
            Line((-23.5027573383, 13.6224841241), (-24.0212455392, 14.9365114048))
            Line((-24.0212455392, 14.9365114048), (-25.1908730716, 14.696938917))
            Line((-25.1908730716, 14.696938917), (-24.8178424468, 14.254423858))
        make_face()
        with BuildLine():
            Line((-33.5878589801, 23.4598251125), (-33.7266721424, 23.9053636573))
            Line((-33.7266721424, 23.9053636573), (-33.8022268728, 24.147866199))
            Line((-33.8022268728, 24.147866199), (-34.666351974, 26.9213858992))
            Line((-34.666351974, 26.9213858992), (-34.9364497739, 27.0802669947))
            Line((-34.9364497739, 27.0802669947), (-35.4721397161, 27.3953787982))
            Line((-35.4721397161, 27.3953787982), (-34.6282780244, 25.484751086))
            Line((-34.6282780244, 25.484751086), (-33.8255574097, 23.6672728586))
            Line((-33.8255574097, 23.6672728586), (-33.7131678459, 23.4128062592))
            ThreePointArc((-33.7131678459, 23.4128062592), (-33.6511828612, 23.4380998169), (-33.5878589801, 23.4598251125))
        make_face()
        with BuildLine():
            Line((-31.6575446537, 22.7846140185), (-31.4131536576, 22.853816916))
            Line((-31.4131536576, 22.853816916), (-27.7420189232, 23.893352598))
            Line((-27.7420189232, 23.893352598), (-27.2637233138, 24.5908666402))
            Line((-27.2637233138, 24.5908666402), (-32.1377552743, 22.7521534961))
            ThreePointArc((-32.1377552743, 22.7521534961), (-32.1211502555, 22.7051429275), (-32.1065527673, 22.657470781))
            Line((-32.1065527673, 22.657470781), (-31.6575446537, 22.7846140185))
        make_face()
        with Locations((-33.2380506147, 22.3370705583)):
            Circle(F3_R_4)
        with BuildLine():
            Line((-37.0600149035, 28.0352681875), (-34.2945511212, 23.9122157523))
            Line((-34.2945511212, 23.9122157523), (-34.1530641128, 23.7012716212))
            Line((-34.1530641128, 23.7012716212), (-33.8931166689, 23.3137138638))
            ThreePointArc((-33.8931166689, 23.3137138638), (-33.832338615, 23.3518441558), (-33.7693483742, 23.3861970389))
            Line((-33.7693483742, 23.3861970389), (-33.8941096292, 23.6325567007))
            Line((-33.8941096292, 23.6325567007), (-36.1357294023, 28.0589684844))
            Line((-36.1357294023, 28.0589684844), (-36.7691402524, 28.0427267223))
            Line((-36.7691402524, 28.0427267223), (-37.0600149035, 28.0352681875))
        make_face()
        with Locations((-40.7416149974, 10.0511629134)):
            Circle(F3_R_3)
    extrude(amount=F6_DEPTH, mode=Mode.SUBTRACT)

    # F0 (on Top) → F7 (join)
    with BuildSketch(Plane.XY):
        Polygon((-64.1051836177, -3.8922100489), (-0.0964960459, -3.8922100489), (-32.1008398318, 51.5409394512), align=None)
        Polygon((-32.1008398318, 45.5409394512), (-5.2926484686, -0.8922100489), (-58.909031195, -0.8922100489), align=None, mode=Mode.SUBTRACT)
    extrude(amount=F7_DEPTH)


with BuildPart() as f1_1:
    # F8: moved
    add(f1.part.scale(F8_SCALE).moved(Location((3.2052591809, 0.1946105024, 0))))


solid = f1_1.part
